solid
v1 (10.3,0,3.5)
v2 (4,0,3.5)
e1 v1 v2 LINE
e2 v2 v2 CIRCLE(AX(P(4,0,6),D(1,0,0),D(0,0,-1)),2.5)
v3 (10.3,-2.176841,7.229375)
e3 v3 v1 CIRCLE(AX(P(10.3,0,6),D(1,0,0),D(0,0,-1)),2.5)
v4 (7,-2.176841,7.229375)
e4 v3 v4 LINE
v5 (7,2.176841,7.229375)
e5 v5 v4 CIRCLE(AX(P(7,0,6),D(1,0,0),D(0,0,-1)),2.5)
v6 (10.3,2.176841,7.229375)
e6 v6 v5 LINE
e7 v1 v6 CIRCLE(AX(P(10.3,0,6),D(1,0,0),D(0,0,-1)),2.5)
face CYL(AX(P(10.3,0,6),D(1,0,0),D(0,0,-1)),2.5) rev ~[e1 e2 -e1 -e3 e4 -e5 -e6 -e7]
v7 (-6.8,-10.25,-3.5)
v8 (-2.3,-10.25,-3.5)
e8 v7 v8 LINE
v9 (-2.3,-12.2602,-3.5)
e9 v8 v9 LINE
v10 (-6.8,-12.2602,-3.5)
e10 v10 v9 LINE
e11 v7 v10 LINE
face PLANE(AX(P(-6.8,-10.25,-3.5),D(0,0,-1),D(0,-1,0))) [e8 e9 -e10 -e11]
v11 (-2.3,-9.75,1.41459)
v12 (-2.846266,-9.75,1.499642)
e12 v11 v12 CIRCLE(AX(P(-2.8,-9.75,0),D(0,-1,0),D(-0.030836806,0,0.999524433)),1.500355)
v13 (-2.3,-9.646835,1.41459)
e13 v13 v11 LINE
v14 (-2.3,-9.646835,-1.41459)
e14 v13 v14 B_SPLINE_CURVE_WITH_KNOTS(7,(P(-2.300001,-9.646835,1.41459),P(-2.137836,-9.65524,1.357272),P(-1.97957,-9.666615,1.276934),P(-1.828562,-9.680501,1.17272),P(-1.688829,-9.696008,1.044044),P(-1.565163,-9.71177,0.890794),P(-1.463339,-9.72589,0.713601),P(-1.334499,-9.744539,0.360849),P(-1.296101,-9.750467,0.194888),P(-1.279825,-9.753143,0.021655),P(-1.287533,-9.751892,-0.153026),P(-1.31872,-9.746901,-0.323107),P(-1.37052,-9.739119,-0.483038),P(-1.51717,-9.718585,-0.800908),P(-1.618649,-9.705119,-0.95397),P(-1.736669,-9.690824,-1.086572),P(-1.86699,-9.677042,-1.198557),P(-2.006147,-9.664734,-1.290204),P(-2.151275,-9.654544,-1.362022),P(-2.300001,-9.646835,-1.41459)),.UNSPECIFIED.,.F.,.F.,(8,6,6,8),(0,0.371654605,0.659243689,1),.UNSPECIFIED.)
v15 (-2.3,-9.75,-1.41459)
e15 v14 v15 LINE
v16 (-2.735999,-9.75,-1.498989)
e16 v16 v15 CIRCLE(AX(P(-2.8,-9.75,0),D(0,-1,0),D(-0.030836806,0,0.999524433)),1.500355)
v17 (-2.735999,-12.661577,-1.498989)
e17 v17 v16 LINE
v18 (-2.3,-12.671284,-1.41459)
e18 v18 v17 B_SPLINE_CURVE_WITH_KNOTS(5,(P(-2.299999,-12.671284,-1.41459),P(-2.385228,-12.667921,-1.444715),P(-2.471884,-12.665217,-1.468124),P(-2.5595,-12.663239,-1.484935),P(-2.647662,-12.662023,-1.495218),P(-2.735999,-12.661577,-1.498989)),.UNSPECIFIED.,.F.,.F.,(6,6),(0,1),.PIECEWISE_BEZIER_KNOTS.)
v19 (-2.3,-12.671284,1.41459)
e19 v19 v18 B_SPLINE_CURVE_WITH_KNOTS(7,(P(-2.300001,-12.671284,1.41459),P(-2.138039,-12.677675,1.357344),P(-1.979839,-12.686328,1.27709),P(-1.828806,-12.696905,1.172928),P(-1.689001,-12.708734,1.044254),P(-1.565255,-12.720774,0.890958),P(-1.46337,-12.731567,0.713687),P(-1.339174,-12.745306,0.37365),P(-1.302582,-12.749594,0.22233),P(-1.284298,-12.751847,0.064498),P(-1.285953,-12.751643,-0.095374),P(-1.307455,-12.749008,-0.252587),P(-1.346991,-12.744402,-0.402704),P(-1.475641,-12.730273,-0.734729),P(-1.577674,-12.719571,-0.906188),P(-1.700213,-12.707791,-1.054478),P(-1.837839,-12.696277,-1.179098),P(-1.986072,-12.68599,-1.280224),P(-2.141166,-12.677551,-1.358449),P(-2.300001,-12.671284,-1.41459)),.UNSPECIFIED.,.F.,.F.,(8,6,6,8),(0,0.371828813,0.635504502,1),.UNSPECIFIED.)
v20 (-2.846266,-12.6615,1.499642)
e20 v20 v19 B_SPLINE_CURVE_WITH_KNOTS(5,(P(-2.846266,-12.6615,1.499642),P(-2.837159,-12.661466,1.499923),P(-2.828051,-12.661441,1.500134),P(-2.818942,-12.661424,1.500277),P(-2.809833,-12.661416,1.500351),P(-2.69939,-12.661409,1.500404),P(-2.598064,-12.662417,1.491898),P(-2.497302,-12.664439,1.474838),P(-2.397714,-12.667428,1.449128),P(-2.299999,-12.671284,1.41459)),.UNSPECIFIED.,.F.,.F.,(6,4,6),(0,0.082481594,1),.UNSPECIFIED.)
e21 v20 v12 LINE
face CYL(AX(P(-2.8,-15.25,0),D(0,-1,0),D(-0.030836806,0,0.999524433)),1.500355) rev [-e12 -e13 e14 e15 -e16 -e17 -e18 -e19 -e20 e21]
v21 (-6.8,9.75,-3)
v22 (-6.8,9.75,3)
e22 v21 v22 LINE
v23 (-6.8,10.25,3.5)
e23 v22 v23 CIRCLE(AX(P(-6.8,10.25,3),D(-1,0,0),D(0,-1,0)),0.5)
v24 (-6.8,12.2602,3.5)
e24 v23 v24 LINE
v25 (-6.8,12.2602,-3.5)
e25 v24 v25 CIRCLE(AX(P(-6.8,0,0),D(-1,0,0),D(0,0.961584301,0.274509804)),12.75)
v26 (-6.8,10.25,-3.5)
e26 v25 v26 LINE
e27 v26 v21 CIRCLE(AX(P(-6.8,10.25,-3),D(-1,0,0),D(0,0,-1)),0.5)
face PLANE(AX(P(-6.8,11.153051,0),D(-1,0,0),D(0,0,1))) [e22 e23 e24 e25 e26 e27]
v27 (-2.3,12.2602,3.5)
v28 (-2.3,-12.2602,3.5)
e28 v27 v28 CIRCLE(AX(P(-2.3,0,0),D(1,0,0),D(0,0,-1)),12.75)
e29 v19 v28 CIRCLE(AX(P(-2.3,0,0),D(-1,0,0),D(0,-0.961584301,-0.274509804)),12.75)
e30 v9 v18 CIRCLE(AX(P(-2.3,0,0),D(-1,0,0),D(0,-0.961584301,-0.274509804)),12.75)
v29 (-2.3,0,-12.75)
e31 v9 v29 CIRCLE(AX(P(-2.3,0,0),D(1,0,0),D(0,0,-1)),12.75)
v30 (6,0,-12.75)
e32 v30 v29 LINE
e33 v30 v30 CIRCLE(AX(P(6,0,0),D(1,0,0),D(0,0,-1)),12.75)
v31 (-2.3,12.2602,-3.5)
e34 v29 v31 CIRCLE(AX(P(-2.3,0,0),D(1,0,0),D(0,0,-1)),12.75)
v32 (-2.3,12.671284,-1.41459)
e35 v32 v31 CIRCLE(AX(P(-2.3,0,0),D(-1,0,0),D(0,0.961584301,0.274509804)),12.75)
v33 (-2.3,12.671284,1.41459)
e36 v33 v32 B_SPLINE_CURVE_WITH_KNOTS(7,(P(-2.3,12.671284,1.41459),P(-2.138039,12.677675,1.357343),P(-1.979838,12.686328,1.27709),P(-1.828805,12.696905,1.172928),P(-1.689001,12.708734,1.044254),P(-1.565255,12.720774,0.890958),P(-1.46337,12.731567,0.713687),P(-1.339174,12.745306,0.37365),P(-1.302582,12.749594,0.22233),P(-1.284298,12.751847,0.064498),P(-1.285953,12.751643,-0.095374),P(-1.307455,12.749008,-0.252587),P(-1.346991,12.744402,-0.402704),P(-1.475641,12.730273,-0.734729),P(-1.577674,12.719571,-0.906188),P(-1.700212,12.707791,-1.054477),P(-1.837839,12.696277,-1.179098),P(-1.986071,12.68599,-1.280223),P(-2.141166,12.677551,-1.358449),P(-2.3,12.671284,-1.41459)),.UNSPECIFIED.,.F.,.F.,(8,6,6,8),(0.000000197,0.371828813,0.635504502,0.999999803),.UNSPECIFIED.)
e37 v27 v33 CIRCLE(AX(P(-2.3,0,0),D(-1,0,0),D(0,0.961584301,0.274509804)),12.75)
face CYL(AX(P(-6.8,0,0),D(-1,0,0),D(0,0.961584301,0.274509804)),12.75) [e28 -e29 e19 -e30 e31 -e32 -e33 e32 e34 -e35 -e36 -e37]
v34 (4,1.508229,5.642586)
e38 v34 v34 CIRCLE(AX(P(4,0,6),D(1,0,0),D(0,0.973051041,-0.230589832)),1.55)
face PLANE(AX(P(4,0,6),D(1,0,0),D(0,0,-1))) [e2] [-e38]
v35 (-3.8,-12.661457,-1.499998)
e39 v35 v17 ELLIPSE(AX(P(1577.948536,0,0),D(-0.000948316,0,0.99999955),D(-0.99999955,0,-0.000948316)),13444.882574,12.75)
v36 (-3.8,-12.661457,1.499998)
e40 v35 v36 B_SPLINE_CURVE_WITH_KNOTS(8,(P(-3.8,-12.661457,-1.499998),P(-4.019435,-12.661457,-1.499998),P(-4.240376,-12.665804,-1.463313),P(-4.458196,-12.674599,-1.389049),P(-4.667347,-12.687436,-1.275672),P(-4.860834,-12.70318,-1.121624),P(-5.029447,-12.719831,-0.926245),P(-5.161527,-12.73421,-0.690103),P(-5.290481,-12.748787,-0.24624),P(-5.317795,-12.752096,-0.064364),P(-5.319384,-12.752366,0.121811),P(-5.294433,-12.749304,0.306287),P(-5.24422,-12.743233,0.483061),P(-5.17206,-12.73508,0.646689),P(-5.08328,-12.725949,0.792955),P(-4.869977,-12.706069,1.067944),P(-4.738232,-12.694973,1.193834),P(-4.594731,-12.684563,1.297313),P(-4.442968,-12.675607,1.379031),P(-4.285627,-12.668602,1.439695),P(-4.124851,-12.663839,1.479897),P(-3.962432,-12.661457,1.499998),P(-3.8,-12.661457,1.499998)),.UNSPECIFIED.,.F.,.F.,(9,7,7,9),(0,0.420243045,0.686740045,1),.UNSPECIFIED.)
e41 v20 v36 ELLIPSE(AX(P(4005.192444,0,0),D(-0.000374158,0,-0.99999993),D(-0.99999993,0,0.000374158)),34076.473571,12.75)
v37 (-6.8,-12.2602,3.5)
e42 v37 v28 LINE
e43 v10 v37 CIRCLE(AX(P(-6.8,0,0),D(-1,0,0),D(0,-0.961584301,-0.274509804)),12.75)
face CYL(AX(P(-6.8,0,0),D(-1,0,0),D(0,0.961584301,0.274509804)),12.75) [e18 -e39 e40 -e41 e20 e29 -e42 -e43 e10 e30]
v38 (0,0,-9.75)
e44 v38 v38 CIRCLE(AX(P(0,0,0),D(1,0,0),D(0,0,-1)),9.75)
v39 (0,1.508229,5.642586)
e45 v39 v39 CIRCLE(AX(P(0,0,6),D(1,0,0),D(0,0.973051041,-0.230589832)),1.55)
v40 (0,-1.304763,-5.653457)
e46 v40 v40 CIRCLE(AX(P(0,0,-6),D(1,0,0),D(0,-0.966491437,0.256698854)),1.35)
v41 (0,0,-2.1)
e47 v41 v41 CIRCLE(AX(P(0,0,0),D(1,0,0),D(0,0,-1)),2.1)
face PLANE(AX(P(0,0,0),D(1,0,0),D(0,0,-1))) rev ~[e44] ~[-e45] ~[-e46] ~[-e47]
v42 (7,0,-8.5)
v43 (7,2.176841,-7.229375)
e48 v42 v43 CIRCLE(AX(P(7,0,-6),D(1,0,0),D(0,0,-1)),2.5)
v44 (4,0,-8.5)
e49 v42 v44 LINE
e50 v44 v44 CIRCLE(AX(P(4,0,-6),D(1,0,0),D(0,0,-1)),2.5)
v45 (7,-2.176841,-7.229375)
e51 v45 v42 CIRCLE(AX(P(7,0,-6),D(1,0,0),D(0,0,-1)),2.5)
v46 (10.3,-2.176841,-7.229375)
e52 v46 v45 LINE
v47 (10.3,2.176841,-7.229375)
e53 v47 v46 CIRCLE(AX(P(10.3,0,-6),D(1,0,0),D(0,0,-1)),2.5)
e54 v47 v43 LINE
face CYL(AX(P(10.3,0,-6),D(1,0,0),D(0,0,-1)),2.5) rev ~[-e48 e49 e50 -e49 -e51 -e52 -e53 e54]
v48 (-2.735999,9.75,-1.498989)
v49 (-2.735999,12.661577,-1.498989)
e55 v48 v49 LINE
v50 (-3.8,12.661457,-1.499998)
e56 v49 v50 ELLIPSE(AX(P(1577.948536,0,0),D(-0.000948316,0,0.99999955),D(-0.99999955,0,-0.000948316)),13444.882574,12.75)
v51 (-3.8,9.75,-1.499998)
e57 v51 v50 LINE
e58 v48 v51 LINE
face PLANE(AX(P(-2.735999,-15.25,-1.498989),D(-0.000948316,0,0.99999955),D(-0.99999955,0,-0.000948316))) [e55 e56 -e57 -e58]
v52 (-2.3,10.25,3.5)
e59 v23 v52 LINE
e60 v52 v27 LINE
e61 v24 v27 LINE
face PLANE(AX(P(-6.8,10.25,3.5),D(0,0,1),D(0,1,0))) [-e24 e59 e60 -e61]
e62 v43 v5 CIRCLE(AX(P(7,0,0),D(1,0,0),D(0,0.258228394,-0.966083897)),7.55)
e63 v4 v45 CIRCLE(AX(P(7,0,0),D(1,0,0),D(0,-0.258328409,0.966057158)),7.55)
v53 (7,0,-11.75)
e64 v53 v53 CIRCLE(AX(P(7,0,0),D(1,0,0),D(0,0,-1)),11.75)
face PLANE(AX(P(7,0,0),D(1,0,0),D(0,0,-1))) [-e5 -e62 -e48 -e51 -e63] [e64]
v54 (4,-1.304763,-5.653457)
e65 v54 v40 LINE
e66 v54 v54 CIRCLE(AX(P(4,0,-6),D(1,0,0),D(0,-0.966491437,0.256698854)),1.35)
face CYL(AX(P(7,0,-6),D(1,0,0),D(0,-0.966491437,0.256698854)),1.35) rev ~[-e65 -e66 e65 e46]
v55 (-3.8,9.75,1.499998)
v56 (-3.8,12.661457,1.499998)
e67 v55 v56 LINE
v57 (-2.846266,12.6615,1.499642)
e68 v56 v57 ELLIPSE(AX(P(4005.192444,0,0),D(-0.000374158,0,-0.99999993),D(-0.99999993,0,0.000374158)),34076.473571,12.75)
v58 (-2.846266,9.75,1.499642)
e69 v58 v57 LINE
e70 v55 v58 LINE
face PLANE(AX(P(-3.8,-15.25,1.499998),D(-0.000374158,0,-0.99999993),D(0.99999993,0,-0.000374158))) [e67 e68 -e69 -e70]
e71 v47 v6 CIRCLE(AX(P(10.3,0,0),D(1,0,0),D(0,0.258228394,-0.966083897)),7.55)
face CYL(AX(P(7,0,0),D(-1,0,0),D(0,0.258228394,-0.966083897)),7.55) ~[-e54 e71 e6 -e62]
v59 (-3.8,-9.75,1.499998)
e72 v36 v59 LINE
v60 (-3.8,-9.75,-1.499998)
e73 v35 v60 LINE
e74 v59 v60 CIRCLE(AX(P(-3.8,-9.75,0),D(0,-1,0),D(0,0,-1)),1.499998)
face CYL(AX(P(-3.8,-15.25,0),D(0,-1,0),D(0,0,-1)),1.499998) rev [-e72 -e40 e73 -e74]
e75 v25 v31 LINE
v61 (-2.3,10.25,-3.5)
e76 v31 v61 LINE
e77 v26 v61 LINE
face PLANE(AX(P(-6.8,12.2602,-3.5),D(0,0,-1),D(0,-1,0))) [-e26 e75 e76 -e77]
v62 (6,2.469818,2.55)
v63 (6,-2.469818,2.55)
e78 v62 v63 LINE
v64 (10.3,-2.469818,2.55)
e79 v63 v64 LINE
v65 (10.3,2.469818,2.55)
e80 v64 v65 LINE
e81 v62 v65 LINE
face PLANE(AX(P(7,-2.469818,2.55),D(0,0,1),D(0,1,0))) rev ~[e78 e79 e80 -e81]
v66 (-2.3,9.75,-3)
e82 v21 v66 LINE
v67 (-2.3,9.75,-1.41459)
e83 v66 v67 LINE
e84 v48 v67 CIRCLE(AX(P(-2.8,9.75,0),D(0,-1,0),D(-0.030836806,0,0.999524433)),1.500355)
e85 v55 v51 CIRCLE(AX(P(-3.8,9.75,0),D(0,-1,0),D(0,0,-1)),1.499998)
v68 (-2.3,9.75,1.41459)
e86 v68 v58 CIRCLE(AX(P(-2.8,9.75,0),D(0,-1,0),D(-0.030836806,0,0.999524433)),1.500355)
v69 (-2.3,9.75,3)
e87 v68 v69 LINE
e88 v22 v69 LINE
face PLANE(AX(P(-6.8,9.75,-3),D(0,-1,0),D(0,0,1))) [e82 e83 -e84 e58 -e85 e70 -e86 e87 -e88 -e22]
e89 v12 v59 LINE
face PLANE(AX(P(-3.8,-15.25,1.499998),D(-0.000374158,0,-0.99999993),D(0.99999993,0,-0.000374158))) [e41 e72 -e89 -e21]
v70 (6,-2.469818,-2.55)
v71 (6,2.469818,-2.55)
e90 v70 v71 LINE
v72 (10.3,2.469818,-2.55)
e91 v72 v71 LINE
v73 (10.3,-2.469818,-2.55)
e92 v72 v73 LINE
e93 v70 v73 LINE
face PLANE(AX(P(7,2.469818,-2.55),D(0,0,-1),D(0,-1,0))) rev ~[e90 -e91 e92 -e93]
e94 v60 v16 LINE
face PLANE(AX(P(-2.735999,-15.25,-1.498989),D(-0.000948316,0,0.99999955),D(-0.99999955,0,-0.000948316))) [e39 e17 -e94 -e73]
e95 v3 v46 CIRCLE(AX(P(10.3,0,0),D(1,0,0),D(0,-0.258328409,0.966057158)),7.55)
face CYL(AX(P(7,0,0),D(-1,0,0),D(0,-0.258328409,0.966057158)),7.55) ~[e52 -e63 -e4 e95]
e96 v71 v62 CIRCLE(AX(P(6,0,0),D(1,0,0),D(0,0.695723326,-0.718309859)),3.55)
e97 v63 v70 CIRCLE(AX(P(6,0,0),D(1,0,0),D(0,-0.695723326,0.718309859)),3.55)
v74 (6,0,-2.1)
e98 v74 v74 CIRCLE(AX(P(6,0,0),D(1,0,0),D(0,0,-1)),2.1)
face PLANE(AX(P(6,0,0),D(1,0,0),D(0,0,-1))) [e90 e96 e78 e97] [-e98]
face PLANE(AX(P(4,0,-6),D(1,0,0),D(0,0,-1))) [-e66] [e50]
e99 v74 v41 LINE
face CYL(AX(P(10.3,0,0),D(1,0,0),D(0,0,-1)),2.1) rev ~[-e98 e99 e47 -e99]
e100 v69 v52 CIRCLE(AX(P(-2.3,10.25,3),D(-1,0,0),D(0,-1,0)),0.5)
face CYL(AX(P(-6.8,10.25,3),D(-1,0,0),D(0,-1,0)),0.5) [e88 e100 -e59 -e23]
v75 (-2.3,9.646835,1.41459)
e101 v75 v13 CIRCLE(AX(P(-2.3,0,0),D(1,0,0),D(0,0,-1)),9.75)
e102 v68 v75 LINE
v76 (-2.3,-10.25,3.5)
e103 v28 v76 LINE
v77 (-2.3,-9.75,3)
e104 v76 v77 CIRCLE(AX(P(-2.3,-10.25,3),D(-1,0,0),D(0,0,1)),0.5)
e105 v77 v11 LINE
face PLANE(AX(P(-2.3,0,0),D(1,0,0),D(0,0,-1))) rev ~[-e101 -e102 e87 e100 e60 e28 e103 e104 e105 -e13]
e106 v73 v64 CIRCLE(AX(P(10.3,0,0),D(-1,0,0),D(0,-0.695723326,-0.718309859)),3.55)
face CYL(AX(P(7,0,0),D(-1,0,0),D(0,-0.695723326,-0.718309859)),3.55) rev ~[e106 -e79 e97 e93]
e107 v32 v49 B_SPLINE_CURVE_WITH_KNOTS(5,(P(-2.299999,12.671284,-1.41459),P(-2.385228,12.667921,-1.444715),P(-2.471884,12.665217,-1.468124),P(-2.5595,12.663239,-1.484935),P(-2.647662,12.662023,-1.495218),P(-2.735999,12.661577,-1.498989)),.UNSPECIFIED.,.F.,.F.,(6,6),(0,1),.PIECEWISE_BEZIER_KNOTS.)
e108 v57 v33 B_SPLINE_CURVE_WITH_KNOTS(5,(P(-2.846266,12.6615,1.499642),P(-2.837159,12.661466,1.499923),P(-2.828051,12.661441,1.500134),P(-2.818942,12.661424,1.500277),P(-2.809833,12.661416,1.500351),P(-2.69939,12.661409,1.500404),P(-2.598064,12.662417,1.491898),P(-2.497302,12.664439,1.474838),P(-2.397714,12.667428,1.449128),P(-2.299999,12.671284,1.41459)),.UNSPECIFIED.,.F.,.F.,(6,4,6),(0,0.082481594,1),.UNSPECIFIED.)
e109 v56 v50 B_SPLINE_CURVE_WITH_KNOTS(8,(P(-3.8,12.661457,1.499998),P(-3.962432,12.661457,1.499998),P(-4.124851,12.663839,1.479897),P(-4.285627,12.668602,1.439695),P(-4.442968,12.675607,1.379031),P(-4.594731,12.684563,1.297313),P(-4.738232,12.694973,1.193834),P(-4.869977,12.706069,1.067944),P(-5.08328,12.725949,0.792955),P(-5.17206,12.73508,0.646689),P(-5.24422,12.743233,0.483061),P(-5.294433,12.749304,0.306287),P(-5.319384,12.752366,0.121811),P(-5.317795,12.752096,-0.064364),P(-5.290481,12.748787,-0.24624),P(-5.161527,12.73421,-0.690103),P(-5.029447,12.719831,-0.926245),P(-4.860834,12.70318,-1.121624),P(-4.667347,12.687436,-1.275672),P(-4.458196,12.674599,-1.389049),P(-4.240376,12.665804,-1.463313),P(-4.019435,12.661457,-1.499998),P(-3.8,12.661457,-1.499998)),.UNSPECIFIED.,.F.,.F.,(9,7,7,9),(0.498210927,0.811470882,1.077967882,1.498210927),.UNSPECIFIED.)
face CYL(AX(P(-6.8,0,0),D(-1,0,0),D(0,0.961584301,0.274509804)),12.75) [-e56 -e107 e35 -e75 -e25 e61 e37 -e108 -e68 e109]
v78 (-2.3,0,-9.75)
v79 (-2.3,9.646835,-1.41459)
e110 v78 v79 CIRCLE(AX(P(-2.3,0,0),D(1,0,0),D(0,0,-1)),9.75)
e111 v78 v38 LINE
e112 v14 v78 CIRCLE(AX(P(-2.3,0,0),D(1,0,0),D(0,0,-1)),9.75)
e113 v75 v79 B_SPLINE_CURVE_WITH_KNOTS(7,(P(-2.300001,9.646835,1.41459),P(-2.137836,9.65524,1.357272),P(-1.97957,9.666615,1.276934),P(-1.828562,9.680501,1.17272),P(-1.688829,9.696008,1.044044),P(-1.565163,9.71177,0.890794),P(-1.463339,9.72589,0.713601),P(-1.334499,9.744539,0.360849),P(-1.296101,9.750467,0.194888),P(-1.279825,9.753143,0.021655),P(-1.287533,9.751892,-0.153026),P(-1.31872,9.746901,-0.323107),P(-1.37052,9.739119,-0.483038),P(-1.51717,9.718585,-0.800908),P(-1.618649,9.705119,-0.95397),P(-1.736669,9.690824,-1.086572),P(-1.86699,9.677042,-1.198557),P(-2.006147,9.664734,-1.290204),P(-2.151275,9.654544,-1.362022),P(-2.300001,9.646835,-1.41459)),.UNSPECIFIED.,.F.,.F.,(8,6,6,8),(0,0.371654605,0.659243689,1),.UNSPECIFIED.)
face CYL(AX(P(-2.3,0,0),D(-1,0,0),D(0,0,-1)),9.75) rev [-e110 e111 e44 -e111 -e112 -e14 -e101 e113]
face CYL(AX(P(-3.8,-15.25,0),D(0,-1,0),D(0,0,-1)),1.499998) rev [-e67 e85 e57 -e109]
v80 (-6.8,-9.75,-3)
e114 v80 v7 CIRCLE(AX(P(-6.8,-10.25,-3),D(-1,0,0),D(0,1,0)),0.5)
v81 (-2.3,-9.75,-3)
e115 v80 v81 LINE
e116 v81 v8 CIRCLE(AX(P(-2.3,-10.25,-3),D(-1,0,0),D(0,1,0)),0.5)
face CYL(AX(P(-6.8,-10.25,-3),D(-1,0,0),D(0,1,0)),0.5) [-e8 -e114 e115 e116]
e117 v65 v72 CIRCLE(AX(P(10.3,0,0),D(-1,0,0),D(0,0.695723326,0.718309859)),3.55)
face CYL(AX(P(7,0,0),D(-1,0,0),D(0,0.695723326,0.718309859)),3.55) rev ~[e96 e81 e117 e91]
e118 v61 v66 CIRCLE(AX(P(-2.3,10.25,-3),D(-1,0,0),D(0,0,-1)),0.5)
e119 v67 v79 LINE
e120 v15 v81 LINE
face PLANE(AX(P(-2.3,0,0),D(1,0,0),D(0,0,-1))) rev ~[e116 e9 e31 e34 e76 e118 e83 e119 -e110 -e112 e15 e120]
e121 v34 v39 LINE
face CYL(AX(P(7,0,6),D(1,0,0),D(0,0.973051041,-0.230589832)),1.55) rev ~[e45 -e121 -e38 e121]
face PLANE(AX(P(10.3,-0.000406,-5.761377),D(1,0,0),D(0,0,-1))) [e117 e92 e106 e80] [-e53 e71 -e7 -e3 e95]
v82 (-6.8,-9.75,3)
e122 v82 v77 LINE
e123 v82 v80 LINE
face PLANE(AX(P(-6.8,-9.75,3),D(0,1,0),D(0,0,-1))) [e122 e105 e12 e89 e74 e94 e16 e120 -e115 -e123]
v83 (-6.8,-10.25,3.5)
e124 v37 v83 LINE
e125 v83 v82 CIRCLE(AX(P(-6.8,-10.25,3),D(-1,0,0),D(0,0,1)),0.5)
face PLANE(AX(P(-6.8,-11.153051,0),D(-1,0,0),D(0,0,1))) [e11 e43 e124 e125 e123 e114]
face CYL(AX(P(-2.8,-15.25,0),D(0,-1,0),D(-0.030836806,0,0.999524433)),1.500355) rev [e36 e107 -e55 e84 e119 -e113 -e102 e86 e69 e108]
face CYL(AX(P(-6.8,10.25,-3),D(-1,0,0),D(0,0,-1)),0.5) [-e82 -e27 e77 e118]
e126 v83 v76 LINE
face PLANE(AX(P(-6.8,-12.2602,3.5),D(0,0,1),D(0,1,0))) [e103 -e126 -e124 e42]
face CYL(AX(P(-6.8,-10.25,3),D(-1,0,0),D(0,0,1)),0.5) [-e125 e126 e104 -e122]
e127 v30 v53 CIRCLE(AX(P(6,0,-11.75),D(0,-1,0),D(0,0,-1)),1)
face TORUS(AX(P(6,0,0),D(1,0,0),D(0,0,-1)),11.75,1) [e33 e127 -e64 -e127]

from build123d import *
from build123d.topology import SkipClean

# Parameters (mm, degrees)
SKETCH_1_R               = 12.75
EXTRUDE_1_DEPTH          = 7
EXTRUDE_START            = -2.3
SKETCH_1_3_R             = 12.75
SKETCH_1_3_R_2           = 9.75
EXTRUDE_2_DEPTH          = 2.3
EXTRUDE_3_DEPTH          = 3.3
FILLET_1_R               = 1
EXTRUDE_4_DEPTH          = 3.3
CUT_EXTRUDE_1_REACH      = 22.288
SKETCH_6_R               = 1.3500000000000005
SKETCH_6_R_2             = 1.5499999999999994
CUT_EXTRUDE_START        = -1
CUT_EXTRUDE_2_DEPTH      = 1
EXTRUDE_START_2          = 4.5
EXTRUDE_5_DEPTH          = 4.5
CUT_EXTRUDE_3_DEPTH      = 3
CUT_EXTRUDE_3_DEPTH_BACK = 25
SKETCH_17_R              = 2.5
SKETCH_17_R_2            = 2.5000000000000004
CUT_EXTRUDE_4_DEPTH      = 6.3
SKETCH_18_R              = 2.1
CUT_EXTRUDE_5_DEPTH      = 19.000000000000004


with BuildPart() as part:
    # 草图1 → 凸台-拉伸1 (new body)
    with BuildSketch(Plane(origin=(0, 0, 0), x_dir=(0, 0, -1), z_dir=(1, 0, 0))):
        Circle(SKETCH_1_R)
    extrude(amount=EXTRUDE_1_DEPTH)

    # 草图1<3> → 凸台-拉伸2 (add)
    with BuildSketch(Plane(origin=(0, 0, 0), x_dir=(0, 0, -1), z_dir=(1, 0, 0)).offset(EXTRUDE_START)):
        Circle(SKETCH_1_3_R)
        Circle(SKETCH_1_3_R_2, mode=Mode.SUBTRACT)
    extrude(amount=EXTRUDE_2_DEPTH)

    # 草图4 → 凸台-拉伸3 (add)
    with BuildSketch(Plane(origin=(7, 0, 0), x_dir=(0, 0, -1), z_dir=(1, 0, 0))):
        with BuildLine():
            Line((7.293731545630563, -1.9503794862215074), (5.5903528728314456, -1.4948876985254207))
            ThreePointArc((5.590352872831452, -1.4948876985253963), (4.450095710648993, -0.01722480337626947), (5.557231396787749, 1.4854144081735148))
            ThreePointArc((5.557231396787749, 1.4854144081735148), (5.599745988830406, 1.4974300406171406), (5.642585759719926, 1.508229114174971))
            Line((5.642585759719926, 1.5082291141749726), (7.293933423650666, 1.949624376989515))
            ThreePointArc((7.293933423650662, 1.949624376989514), (4.6e-16, 7.550000000000002), (-7.293933423650662, 1.949624376989515))
            Line((-7.293933423650666, 1.949624376989515), (-5.642585759719924, 1.5082291141749722))
            ThreePointArc((-5.642585759719924, 1.5082291141749706), (-5.599745988830406, 1.4974300406171406), (-5.557231396787749, 1.4854144081735148))
            ThreePointArc((-5.557231396787749, 1.4854144081735148), (-4.757262832498563, 0.9263392102844973), (-4.449999999999999, 0))
            ThreePointArc((-4.449999999999999, -3.8e-16), (-4.767633770522892, -0.9400922701758461), (-5.590352872831452, -1.4948876985253963))
            Line((-5.5903528728314456, -1.4948876985254207), (-7.293731545630563, -1.9503794862215074))
            ThreePointArc((-7.2937315456305605, -1.950379486221506), (-1.39e-15, -7.550000000000002), (7.2937315456305605, -1.9503794862215056))
        make_face()
        with BuildLine():
            ThreePointArc((-0.9205316546017519, -3.4285742624123157), (-1.7750000000000141, -3.074390183434749), (-2.5089665827097076, -2.5114909290789753))
            ThreePointArc((-2.5089665827097076, -2.5114909290789753), (-2.5295691102475106, -2.490738869589025), (-2.55, -2.4698178070456938))
            Line((-2.55, -2.4698178070456938), (-2.55, 0))
            Line((-2.55, 0), (-2.55, 2.4698178070456938))
            ThreePointArc((-2.55, 2.469817807045694), (2.2e-16, 3.5499999999999994), (2.55, 2.4698178070456938))
            Line((2.55, 2.4698178070456938), (2.55, -1.2e-16))
            Line((2.55, -1.2e-16), (2.55, -2.4698178070456938))
            ThreePointArc((2.549999999999999, -2.4698178070456946), (0.9453016753082151, -3.4218276903811913), (-0.9205316546017519, -3.4285742624123157))
        make_face(mode=Mode.SUBTRACT)
    extrude(amount=EXTRUDE_3_DEPTH)

    # 圆角1
    fillet_1_edges = [part.edges().sort_by_distance(p)[0] for p in [
        (7, 1.56e-15, 12.75),
    ]]
    fillet(fillet_1_edges, radius=FILLET_1_R)

    # 草图5 → 凸台-拉伸4 (add)
    with BuildSketch(Plane(origin=(7, 0, 0), x_dir=(0, 0, -1), z_dir=(1, 0, 0))):
        with BuildLine():
            ThreePointArc((5.65345654698472, -1.3047634403110198), (4.6499999999999995, 1.7e-16), (5.65345654698472, 1.3047634403110198))
            Line((5.65345654698472, 1.3047634403110195), (7.3500000000000005, 1.7553631492193538))
            Line((7.3500000000000005, 1.7553631492193538), (7.293933423650666, 1.9496243769895145))
            Line((7.293933423650666, 1.9496243769895145), (5.642585759719882, 1.5082291141749606))
            ThreePointArc((5.642585759719882, 1.5082291141749606), (4.4500975021885605, 0.01738526036219645), (5.60884432582712, -1.499832403491257))
            Line((5.60884432582712, -1.499832403491257), (7.293731545630563, -1.950379486221502))
            Line((7.293731545630563, -1.950379486221502), (7.3500000000000005, -1.7595376594411802))
            Line((7.3500000000000005, -1.7595376594411802), (5.65345654698472, -1.3047634403110195))
        make_face()
    extrude(amount=EXTRUDE_4_DEPTH)

    # 草图6 → 切除-拉伸1 (cut, up to next)
    with BuildSketch(Plane(origin=(7, 0, 0), x_dir=(0, 0, -1), z_dir=(1, 0, 0)), mode=Mode.PRIVATE) as cut_extrude_1_sk1:
        with Locations(Location((6, 0, 0), (0, 0, 255.125726416))):
            Circle(SKETCH_6_R)
    cut_extrude_1_tool1 = extrude(cut_extrude_1_sk1.sketch, amount=-CUT_EXTRUDE_1_REACH, mode=Mode.PRIVATE) & part.part
    # 草图6 → 切除-拉伸1 (cut, up to next)
    with BuildSketch(Plane(origin=(7, 0, 0), x_dir=(0, 0, -1), z_dir=(1, 0, 0)), mode=Mode.PRIVATE) as cut_extrude_1_sk2:
        with Locations(Location((-6, -7.3e-16, 0), (0, 0, 76.668199875))):
            Circle(SKETCH_6_R_2)
    cut_extrude_1_tool2 = extrude(cut_extrude_1_sk2.sketch, amount=-CUT_EXTRUDE_1_REACH, mode=Mode.PRIVATE) & part.part
    add(cut_extrude_1_tool1.solids().sort_by_distance((7, 0, -6))[0], mode=Mode.SUBTRACT)
    add(cut_extrude_1_tool2.solids().sort_by_distance((7, 0, 6))[0], mode=Mode.SUBTRACT)

    # 草图7 → 切除-拉伸2 (cut)
    with BuildSketch(Plane(origin=(7, 0, 0), x_dir=(0, 0, -1), z_dir=(1, 0, 0)).offset(CUT_EXTRUDE_START)):
        with BuildLine():
            Line((2.55, -2.4698178070456938), (2.55, 2.4698178070456938))
            ThreePointArc((2.55, 2.4698178070456938), (2.2e-16, 3.55), (-2.55, 2.4698178070456938))
            Line((-2.55, 2.4698178070456938), (-2.55, -2.4698178070456938))
            ThreePointArc((-2.55, -2.4698178070456938), (2.2e-16, -3.55), (2.55, -2.4698178070456938))
        make_face()
    extrude(amount=CUT_EXTRUDE_2_DEPTH, mode=Mode.SUBTRACT)

    # 草图9 → 凸台-拉伸5 (add)
    with SkipClean():  # the faces are left unmerged after this step: merging them gives an invalid solid
        with BuildSketch(Plane.ZY.offset(2.3).offset(EXTRUDE_START_2)):
            with BuildLine():
                ThreePointArc((-3.4999999999999996, 10.25), (-3.3535533905932735, 9.896446609406727), (-3, 9.75))
                Line((-3, 9.75), (3, 9.75))
                ThreePointArc((3, 9.75), (3.3535533905932735, 9.896446609406727), (3.5000000000000004, 10.25))
                Line((3.5, 10.25), (3.5, 12.260199835239227))
                ThreePointArc((3.5000000000000004, 12.260199835239227), (1e-15, 12.75), (-3.5, 12.260199835239227))
                Line((-3.5, 12.260199835239227), (-3.5, 10.25))
            make_face()
            with BuildLine():
                Line((-3.5, -10.25), (-3.5, -12.260199835239227))
                ThreePointArc((-3.5, -12.260199835239227), (1e-15, -12.75), (3.5000000000000004, -12.260199835239227))
                Line((3.5, -12.260199835239227), (3.5, -10.25))
                ThreePointArc((3.5000000000000004, -10.25), (3.3535533905932735, -9.896446609406727), (3, -9.75))
                Line((3, -9.75), (-3, -9.75))
                ThreePointArc((-3, -9.75), (-3.3535533905932735, -9.896446609406727), (-3.4999999999999996, -10.25))
            make_face()
        extrude(amount=-EXTRUDE_5_DEPTH)

    # 草图16 → 切除-拉伸3 (cut, two sides: drawn at the far end of the back side and taken through both)
    with BuildSketch(Plane(origin=(0, 9.75, 0), x_dir=(1, 0, 0), z_dir=(0, 1, 0)).offset(-CUT_EXTRUDE_3_DEPTH_BACK)):
        with BuildLine():
            Line((-3.797155055625174, 1.499995743144704), (-3.8000000000000003, 1.499998441052766))
            ThreePointArc((-3.8000000000000003, 1.499998441052766), (-5.299998441052766, 3.3e-16), (-3.8000000000000007, -1.4999984410527665))
            Line((-3.8000000000000003, -1.4999984410527663), (-3.7988775259417356, -1.4999980210696007))
            Line((-3.7988775259417356, -1.4999980210696007), (-2.8462661595831507, -1.4996415934672602))
            ThreePointArc((-2.8462661595831507, -1.4996415934672602), (-1.300658265078132, -0.05513463794275678), (-2.735998812247351, 1.4989894310320704))
            Line((-2.735998812247351, 1.49898943103207), (-2.8611580419850906, 1.4991081216110296))
            Line((-2.8611580419850906, 1.4991081216110296), (-3.797155055625174, 1.499995743144704))
        make_face()
    extrude(amount=CUT_EXTRUDE_3_DEPTH + CUT_EXTRUDE_3_DEPTH_BACK, mode=Mode.SUBTRACT)

    # 草图17 → 切除-拉伸4 (cut)
    with SkipClean():  # the faces are left unmerged after this step: merging them gives an invalid solid
        with BuildSketch(Plane(origin=(10.3, 0, 0), x_dir=(0, 0, -1), z_dir=(1, 0, 0))):
            with Locations((-6, 0)):
                Circle(SKETCH_17_R)
            with Locations((6, 0)):
                Circle(SKETCH_17_R_2)
        extrude(amount=-CUT_EXTRUDE_4_DEPTH, mode=Mode.SUBTRACT)

    # 草图18 → 切除-拉伸5 (cut)
    with SkipClean():  # the faces are left unmerged after this step: merging them gives an invalid solid
        with BuildSketch(Plane(origin=(10.3, 0, 0), x_dir=(0, 0, -1), z_dir=(1, 0, 0))):
            Circle(SKETCH_18_R)
        extrude(amount=-CUT_EXTRUDE_5_DEPTH, mode=Mode.SUBTRACT)


solid = part.part
